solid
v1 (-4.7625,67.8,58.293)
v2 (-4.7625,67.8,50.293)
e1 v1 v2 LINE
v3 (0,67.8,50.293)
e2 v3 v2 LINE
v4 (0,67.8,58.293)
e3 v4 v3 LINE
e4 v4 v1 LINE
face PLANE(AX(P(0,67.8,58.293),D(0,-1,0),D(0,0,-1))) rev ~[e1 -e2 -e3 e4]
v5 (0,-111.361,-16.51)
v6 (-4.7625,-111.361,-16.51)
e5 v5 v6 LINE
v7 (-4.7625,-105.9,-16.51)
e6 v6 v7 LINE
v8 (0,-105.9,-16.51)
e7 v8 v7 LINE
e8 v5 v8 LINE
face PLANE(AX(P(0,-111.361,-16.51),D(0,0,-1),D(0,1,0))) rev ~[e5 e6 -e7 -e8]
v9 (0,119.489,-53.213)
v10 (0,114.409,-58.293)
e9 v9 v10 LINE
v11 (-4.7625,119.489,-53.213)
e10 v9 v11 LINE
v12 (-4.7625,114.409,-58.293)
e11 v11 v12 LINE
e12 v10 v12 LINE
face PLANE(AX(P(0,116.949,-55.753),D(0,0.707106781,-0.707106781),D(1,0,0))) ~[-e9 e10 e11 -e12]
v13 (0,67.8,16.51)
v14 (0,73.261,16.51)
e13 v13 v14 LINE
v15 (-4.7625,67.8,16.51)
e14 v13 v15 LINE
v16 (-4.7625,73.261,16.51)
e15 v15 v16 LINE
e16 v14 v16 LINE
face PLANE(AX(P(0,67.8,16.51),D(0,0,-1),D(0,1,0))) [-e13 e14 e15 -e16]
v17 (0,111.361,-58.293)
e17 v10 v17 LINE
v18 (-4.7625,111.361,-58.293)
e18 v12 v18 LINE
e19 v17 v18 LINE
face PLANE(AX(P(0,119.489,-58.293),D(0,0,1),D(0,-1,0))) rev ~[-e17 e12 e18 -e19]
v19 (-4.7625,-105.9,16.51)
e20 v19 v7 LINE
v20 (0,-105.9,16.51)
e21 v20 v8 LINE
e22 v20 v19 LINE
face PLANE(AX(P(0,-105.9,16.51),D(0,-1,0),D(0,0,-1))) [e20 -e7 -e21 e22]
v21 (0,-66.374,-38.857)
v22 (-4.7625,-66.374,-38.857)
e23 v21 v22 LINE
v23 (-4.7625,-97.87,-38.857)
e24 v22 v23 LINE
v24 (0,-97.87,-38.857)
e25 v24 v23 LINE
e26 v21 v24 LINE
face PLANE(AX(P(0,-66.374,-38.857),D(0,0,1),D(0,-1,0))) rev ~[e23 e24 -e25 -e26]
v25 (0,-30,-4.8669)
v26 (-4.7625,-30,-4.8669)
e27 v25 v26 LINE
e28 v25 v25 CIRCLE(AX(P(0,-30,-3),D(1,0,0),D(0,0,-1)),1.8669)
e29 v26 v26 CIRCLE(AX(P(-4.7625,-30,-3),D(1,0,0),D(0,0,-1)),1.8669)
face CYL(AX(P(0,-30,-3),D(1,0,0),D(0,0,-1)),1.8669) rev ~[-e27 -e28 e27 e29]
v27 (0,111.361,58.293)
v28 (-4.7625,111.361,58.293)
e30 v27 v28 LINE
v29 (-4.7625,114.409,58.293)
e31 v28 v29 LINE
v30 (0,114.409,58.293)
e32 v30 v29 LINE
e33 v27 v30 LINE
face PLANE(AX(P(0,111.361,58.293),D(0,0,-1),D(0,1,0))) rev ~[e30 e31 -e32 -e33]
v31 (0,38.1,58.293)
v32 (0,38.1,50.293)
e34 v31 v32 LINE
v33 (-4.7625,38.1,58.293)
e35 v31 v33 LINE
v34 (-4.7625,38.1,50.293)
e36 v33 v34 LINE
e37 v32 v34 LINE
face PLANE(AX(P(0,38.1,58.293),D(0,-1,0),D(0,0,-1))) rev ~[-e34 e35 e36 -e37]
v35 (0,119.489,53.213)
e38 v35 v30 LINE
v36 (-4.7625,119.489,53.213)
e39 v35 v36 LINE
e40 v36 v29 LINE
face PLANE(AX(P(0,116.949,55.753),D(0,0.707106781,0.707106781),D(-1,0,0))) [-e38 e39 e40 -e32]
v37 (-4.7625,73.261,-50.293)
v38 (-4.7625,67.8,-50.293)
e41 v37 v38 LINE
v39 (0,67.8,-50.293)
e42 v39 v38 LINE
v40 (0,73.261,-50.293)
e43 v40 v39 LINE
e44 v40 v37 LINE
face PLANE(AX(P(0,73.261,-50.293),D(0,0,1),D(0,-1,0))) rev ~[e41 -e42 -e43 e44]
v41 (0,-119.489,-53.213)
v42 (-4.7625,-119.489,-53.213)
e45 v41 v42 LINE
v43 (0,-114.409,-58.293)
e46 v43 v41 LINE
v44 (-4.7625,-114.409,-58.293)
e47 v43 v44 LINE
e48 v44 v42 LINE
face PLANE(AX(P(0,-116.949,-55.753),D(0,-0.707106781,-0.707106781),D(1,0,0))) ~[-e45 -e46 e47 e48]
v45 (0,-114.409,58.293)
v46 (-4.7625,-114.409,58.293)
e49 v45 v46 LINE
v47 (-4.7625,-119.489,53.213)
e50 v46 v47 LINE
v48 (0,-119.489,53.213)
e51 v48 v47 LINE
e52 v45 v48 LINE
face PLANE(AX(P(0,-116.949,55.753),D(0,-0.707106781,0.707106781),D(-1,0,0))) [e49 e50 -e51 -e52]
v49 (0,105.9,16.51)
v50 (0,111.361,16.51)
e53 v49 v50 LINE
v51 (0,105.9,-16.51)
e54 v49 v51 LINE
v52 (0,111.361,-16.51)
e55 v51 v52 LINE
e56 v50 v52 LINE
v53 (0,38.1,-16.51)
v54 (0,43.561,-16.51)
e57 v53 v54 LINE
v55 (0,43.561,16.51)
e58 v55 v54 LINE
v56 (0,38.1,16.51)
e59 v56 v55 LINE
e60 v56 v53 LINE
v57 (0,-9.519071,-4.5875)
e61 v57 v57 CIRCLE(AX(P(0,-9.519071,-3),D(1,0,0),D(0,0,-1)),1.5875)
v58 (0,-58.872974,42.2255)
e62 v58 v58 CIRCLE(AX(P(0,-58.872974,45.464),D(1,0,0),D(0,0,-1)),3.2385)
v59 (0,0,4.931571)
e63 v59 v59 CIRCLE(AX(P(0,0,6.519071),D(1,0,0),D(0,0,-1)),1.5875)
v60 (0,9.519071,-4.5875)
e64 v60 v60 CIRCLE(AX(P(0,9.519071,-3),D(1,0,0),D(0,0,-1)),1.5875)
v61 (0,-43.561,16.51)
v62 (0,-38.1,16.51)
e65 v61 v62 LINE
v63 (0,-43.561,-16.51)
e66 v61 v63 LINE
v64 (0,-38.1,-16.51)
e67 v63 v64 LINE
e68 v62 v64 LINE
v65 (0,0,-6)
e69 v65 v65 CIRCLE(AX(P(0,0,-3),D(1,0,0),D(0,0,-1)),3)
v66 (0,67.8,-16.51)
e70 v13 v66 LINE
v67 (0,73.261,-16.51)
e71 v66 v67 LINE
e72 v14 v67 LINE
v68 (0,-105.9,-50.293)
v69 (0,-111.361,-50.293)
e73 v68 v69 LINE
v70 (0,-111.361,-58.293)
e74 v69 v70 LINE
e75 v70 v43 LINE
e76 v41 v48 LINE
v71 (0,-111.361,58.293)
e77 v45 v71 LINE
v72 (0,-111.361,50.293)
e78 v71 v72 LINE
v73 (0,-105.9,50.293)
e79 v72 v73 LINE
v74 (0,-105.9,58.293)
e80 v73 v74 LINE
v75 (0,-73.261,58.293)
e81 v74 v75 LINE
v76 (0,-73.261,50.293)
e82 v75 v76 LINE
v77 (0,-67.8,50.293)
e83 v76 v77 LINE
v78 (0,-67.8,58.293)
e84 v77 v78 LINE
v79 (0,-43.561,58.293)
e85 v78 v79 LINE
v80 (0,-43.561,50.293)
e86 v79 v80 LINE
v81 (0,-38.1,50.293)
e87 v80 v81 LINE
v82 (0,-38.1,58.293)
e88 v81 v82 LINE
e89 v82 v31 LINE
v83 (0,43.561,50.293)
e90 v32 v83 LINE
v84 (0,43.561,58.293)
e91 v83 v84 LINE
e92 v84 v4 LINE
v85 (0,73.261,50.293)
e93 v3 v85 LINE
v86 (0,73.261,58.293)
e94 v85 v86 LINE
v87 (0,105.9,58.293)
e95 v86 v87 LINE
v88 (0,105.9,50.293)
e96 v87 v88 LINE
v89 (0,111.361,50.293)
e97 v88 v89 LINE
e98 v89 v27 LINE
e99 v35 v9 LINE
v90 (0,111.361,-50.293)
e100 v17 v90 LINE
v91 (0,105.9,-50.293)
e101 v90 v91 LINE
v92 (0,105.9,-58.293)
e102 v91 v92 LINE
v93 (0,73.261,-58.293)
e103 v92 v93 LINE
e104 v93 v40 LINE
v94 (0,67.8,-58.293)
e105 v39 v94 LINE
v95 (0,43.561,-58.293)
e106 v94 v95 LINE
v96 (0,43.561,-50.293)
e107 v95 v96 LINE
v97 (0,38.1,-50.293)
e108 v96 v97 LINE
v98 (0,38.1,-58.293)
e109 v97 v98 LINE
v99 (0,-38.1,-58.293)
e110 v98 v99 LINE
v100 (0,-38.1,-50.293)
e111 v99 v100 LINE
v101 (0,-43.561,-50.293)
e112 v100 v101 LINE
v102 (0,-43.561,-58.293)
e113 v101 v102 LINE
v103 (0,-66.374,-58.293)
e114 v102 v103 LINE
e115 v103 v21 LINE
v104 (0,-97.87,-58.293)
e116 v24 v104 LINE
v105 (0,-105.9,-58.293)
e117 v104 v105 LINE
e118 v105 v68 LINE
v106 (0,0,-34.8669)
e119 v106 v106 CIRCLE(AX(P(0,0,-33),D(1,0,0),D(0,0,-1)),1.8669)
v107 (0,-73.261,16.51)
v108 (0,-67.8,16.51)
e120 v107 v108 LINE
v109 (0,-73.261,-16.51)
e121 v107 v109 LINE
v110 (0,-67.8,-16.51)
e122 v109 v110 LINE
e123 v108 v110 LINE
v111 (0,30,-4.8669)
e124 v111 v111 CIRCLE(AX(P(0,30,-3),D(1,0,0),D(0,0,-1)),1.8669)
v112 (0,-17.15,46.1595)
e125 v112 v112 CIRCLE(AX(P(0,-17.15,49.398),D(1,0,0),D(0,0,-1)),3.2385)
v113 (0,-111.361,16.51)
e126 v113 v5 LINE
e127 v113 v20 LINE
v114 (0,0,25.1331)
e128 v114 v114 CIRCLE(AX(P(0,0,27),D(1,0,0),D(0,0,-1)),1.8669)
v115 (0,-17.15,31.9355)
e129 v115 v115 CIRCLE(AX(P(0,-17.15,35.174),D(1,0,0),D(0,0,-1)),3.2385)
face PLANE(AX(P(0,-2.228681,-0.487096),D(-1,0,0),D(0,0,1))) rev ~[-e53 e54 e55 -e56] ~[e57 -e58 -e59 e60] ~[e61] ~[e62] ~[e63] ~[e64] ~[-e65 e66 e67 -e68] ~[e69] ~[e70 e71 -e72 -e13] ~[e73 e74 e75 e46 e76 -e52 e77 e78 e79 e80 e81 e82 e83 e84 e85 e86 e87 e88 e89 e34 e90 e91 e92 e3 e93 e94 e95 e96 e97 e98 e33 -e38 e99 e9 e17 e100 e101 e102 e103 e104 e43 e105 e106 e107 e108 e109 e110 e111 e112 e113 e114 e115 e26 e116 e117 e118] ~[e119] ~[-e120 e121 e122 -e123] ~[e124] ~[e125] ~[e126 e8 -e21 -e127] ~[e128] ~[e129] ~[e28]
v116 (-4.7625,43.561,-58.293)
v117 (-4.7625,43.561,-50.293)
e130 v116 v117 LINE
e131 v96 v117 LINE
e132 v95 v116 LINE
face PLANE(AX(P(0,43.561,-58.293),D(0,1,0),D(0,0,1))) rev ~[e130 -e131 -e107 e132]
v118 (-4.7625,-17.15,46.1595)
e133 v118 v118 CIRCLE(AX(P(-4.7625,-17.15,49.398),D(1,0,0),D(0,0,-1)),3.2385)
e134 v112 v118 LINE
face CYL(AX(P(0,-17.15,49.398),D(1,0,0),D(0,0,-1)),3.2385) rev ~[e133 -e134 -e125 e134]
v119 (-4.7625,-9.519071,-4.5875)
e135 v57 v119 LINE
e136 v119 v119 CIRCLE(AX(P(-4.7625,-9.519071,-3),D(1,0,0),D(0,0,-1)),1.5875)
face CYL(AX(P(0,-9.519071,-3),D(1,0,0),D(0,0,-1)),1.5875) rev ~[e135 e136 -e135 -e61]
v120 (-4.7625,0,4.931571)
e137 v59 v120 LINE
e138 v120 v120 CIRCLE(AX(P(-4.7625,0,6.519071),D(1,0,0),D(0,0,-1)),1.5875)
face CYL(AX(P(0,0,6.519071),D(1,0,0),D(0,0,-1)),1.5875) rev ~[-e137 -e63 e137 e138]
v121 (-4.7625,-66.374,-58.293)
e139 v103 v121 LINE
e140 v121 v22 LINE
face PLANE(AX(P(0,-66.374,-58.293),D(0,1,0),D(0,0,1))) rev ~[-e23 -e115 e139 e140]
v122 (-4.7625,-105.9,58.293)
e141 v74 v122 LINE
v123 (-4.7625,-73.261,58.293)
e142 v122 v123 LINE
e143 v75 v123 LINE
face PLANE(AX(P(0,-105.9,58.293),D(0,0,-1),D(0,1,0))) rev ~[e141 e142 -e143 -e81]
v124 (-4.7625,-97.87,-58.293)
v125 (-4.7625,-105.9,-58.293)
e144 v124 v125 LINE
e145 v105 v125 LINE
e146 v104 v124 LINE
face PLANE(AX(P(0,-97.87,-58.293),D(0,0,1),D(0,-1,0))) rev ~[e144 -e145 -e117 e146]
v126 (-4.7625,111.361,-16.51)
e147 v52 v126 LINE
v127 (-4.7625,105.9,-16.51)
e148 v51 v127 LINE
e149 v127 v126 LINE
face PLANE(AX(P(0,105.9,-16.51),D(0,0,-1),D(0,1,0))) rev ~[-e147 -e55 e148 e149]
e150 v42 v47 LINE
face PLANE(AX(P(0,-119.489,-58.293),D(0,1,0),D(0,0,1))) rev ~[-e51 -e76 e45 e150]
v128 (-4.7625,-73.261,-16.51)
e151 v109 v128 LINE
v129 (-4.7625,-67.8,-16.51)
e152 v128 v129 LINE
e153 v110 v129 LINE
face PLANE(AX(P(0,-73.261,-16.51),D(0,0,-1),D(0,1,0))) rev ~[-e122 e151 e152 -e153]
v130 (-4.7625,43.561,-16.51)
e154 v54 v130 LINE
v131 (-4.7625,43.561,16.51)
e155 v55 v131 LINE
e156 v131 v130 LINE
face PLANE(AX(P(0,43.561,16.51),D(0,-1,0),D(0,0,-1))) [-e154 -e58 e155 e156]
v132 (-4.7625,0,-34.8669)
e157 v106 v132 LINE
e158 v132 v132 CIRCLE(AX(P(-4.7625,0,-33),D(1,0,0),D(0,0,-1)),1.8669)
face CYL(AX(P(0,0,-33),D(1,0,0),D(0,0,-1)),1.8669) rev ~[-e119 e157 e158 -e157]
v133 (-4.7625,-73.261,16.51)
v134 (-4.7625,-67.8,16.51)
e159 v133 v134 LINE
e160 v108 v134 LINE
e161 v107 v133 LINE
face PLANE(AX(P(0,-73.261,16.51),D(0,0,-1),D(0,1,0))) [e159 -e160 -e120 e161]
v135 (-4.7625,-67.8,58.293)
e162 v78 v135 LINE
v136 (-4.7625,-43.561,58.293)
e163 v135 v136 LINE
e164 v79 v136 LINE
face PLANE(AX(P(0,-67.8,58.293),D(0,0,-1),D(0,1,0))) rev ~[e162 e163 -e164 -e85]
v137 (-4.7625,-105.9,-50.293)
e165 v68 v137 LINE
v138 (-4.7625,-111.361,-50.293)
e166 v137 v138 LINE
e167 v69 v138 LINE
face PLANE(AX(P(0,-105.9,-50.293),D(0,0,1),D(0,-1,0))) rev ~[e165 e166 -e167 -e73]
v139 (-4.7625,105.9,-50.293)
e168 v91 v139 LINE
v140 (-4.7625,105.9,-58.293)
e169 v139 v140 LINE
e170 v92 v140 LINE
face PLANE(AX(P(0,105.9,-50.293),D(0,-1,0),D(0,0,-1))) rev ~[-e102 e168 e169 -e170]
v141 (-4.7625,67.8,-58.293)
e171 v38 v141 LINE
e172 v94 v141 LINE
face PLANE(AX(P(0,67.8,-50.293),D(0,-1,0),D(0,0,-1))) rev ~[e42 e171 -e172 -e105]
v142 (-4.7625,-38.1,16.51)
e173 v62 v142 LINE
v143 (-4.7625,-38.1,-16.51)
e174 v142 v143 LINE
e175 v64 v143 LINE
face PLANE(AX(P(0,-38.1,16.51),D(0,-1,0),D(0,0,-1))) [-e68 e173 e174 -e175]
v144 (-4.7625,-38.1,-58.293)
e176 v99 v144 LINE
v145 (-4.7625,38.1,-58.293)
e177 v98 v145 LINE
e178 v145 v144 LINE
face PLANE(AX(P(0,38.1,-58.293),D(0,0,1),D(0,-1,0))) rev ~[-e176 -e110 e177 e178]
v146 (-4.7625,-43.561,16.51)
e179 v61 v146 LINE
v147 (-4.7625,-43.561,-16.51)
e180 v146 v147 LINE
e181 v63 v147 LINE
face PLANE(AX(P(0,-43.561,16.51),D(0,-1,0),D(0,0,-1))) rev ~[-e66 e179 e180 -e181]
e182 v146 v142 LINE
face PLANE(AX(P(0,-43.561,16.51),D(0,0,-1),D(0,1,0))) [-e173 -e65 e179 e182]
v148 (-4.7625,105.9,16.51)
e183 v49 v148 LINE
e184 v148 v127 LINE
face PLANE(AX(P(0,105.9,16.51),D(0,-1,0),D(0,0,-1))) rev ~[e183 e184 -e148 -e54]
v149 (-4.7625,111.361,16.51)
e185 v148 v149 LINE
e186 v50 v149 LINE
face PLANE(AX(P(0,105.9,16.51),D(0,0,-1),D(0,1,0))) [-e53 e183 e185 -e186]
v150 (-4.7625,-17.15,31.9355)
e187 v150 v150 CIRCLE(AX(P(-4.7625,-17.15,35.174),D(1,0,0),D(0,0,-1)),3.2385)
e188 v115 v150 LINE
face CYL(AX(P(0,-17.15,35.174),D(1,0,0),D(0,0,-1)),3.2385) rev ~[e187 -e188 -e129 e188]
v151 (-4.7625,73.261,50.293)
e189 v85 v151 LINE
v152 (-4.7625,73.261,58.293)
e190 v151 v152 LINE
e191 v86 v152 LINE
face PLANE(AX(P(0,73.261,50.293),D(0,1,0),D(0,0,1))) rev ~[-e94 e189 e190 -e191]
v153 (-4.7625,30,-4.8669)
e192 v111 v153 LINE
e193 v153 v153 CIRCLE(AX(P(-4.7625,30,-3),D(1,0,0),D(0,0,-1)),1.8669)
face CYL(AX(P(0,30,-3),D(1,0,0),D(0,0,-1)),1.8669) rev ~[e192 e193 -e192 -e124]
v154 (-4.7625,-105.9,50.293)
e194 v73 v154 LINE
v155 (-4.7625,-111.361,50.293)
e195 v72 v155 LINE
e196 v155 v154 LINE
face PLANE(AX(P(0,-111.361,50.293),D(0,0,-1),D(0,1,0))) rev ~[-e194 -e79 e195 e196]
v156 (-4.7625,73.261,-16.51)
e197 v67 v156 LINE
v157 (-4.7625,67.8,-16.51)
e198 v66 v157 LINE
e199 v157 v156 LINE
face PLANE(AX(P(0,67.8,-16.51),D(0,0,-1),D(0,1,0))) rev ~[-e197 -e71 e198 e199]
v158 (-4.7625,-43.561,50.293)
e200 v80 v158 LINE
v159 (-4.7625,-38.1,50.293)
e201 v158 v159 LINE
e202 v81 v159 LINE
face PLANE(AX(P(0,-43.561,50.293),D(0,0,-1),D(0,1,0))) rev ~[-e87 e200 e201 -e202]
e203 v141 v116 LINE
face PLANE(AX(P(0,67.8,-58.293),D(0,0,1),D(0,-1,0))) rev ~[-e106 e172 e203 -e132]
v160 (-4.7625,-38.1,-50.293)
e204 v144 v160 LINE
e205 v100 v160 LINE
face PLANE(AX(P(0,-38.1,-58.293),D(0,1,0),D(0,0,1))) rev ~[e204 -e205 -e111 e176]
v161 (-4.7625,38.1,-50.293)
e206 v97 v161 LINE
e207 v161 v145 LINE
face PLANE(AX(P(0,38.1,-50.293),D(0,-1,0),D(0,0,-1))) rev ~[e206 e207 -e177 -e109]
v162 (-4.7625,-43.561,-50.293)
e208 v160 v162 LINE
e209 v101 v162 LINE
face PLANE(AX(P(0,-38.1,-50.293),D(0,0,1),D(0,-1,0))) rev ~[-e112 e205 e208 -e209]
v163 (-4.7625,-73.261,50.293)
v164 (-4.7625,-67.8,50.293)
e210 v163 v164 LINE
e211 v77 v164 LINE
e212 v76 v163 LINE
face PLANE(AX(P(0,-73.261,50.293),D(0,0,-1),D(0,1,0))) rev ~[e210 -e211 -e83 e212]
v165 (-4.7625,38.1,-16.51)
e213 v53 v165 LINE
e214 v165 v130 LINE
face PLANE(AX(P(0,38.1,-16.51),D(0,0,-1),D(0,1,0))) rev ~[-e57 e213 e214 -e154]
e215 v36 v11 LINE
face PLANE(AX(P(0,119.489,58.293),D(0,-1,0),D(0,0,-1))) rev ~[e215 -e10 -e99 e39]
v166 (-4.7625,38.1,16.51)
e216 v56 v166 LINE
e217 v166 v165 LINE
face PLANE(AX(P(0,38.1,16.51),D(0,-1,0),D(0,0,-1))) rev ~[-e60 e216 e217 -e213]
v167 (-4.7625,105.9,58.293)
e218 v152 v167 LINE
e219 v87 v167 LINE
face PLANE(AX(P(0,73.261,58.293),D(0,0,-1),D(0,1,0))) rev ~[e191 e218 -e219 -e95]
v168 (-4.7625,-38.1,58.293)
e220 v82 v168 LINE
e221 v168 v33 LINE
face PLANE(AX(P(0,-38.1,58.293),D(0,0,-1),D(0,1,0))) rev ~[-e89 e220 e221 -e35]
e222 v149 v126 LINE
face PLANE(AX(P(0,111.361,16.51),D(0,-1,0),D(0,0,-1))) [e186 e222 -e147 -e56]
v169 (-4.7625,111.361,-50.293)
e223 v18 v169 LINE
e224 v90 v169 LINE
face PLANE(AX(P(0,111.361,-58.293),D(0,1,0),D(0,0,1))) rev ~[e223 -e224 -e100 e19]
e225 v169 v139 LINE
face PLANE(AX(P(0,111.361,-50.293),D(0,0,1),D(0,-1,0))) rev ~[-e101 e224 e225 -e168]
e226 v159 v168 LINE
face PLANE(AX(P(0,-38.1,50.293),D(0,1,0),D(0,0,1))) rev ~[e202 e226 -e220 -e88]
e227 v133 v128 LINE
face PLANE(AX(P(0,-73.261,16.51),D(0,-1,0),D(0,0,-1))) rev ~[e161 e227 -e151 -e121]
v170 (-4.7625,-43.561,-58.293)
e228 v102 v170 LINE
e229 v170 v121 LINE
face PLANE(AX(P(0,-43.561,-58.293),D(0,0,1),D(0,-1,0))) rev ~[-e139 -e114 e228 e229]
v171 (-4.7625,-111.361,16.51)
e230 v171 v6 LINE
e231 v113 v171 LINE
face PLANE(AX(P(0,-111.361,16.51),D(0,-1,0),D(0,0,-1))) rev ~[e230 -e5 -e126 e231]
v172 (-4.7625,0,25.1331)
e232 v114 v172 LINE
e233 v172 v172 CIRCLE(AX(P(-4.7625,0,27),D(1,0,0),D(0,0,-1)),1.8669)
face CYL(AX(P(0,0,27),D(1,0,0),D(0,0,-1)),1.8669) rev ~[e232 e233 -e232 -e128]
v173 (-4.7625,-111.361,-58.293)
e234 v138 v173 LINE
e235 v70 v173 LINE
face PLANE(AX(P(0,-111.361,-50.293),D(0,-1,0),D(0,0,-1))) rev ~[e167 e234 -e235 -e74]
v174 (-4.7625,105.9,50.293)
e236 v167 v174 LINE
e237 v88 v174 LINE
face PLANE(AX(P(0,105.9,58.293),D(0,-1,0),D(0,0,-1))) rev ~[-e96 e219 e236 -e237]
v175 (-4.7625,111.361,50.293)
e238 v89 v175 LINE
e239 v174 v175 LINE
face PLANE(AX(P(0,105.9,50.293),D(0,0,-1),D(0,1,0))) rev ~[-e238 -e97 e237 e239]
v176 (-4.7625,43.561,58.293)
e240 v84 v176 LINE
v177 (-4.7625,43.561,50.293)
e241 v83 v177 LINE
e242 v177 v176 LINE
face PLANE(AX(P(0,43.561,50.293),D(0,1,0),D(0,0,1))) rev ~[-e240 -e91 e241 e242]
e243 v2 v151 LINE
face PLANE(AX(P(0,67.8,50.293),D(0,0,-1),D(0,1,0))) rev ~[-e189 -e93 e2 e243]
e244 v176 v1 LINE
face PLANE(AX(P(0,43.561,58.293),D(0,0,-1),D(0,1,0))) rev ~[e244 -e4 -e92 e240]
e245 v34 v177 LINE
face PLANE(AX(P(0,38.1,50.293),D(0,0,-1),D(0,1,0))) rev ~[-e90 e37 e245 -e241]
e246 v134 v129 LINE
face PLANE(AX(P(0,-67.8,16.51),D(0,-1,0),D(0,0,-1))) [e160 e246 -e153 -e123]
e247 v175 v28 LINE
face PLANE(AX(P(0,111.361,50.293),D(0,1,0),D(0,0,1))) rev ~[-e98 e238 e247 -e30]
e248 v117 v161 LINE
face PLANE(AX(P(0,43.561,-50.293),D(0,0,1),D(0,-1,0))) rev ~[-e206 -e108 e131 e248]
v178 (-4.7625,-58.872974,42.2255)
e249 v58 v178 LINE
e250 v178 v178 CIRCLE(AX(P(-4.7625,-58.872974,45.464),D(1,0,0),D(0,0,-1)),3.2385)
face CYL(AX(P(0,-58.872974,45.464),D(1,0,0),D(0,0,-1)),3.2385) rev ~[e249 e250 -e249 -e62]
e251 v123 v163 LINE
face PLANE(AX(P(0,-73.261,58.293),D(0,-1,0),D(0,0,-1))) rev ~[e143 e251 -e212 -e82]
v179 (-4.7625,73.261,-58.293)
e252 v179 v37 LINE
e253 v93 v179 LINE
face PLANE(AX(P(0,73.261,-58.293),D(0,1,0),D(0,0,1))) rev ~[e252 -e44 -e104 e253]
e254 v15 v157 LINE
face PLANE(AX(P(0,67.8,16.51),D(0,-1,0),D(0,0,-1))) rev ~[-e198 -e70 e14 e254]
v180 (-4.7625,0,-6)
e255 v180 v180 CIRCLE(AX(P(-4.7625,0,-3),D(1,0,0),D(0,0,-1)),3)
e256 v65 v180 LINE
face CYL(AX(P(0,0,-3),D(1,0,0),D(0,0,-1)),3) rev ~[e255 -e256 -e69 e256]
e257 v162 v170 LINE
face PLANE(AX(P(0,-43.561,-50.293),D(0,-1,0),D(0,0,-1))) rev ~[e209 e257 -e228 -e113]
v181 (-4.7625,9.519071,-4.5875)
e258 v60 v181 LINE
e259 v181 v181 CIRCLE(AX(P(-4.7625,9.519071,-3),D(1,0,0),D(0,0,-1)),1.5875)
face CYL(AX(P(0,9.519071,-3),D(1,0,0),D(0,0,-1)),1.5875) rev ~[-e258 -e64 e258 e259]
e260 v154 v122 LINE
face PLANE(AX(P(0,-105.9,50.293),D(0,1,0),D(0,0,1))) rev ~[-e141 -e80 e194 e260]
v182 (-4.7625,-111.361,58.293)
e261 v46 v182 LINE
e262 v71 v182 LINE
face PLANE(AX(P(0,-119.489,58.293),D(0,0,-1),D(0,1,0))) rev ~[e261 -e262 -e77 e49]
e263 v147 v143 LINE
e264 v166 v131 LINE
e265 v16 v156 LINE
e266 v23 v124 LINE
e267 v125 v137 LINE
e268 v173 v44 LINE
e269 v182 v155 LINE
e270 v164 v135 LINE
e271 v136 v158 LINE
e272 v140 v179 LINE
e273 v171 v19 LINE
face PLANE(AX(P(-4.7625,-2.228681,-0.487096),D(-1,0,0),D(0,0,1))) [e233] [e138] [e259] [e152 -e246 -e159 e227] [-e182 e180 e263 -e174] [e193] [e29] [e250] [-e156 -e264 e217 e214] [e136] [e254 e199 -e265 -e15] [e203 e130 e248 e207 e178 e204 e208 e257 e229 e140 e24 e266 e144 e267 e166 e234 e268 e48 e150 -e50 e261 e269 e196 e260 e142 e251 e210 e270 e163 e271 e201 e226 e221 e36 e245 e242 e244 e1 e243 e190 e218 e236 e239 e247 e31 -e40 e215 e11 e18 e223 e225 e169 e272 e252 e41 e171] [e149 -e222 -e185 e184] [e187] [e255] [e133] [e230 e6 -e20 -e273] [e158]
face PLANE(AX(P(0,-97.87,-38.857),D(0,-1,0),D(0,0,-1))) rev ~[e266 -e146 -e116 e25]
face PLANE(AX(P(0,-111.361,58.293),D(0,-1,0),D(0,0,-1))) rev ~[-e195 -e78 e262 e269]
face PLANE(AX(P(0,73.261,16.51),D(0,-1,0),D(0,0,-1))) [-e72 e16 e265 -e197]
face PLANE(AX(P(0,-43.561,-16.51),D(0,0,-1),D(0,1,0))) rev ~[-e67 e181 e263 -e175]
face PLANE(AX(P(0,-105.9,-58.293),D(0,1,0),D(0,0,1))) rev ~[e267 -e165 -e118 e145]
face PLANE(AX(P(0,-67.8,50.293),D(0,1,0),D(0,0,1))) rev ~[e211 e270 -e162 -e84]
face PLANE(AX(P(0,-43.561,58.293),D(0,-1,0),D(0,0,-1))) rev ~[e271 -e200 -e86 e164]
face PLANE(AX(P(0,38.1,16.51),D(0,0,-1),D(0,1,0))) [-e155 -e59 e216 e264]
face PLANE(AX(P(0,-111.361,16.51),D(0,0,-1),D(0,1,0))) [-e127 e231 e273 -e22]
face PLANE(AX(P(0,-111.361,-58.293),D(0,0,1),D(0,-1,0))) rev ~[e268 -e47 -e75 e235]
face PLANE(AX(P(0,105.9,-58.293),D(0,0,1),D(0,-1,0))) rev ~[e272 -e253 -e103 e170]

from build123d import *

# Parameters (mm, degrees)
SKETCH1_R           = 1.5875
SKETCH1_R_2         = 3
SKETCH1_R_3         = 3.2385
SKETCH1_R_4         = 1.8669
SKETCH1_W           = 33.02
SKETCH1_H           = 5.461
BOSS_EXTRUDE1_DEPTH = 4.7625
CHAMFER1_SIZE       = 5.08


with BuildPart() as part:
    # Sketch1 → Boss-Extrude1 (new body)
    with BuildSketch(Plane(origin=(0, 0, 0), x_dir=(0, 0, -1), z_dir=(1, 0, 0))):
        Polygon((-58.293, 119.489), (58.293, 119.489), (58.293, 111.361), (50.293, 111.361), (50.293, 105.9), (58.293, 105.9), (58.293, 73.261), (50.293, 73.261), (50.293, 67.8), (58.293, 67.8), (58.293, 43.561), (50.293, 43.561), (50.293, 38.1), (58.293, 38.1), (58.293, -38.1), (50.293, -38.1), (50.293, -43.561), (58.293, -43.561), (58.293, -66.374), (38.857, -66.374), (38.857, -97.87), (58.293, -97.87), (58.293, -105.9), (50.293, -105.9), (50.293, -111.361), (58.293, -111.361), (58.293, -119.489), (-58.293, -119.489), (-58.293, -111.361), (-50.293, -111.361), (-50.293, -105.9), (-58.293, -105.9), (-58.293, -73.261), (-50.293, -73.261), (-50.293, -67.8), (-58.293, -67.8), (-58.293, -43.561), (-50.293, -43.561), (-50.293, -38.1), (-58.293, -38.1), (-58.293, 38.1), (-50.293, 38.1), (-50.293, 43.561), (-58.293, 43.561), (-58.293, 67.8), (-50.293, 67.8), (-50.293, 73.261), (-58.293, 73.261), (-58.293, 105.9), (-50.293, 105.9), (-50.293, 111.361), (-58.293, 111.361), align=None)
        with Locations((3, 9.519071488)):
            Circle(SKETCH1_R, mode=Mode.SUBTRACT)
        with Locations((-6.519071488, 0)):
            Circle(SKETCH1_R, mode=Mode.SUBTRACT)
        with Locations((3, -9.519071488)):
            Circle(SKETCH1_R, mode=Mode.SUBTRACT)
        with Locations((3, 0)):
            Circle(SKETCH1_R_2, mode=Mode.SUBTRACT)
        with Locations((-35.174, -17.15)):
            Circle(SKETCH1_R_3, mode=Mode.SUBTRACT)
        with Locations((-49.398, -17.15)):
            Circle(SKETCH1_R_3, mode=Mode.SUBTRACT)
        with Locations((-45.464, -58.872973782)):
            Circle(SKETCH1_R_3, mode=Mode.SUBTRACT)
        with Locations((33, 0)):
            Circle(SKETCH1_R_4, mode=Mode.SUBTRACT)
        with Locations((3, 30)):
            Circle(SKETCH1_R_4, mode=Mode.SUBTRACT)
        with Locations((-27, 0)):
            Circle(SKETCH1_R_4, mode=Mode.SUBTRACT)
        with Locations((3, -30)):
            Circle(SKETCH1_R_4, mode=Mode.SUBTRACT)
        with Locations((0, 108.6305)):
            Rectangle(SKETCH1_W, SKETCH1_H, mode=Mode.SUBTRACT)
        with Locations((0, 70.5305)):
            Rectangle(SKETCH1_W, SKETCH1_H, mode=Mode.SUBTRACT)
        with Locations((0, 40.8305)):
            Rectangle(SKETCH1_W, SKETCH1_H, mode=Mode.SUBTRACT)
        with Locations((0, -40.8305)):
            Rectangle(SKETCH1_W, SKETCH1_H, mode=Mode.SUBTRACT)
        with Locations((0, -70.5305)):
            Rectangle(SKETCH1_W, SKETCH1_H, mode=Mode.SUBTRACT)
        with Locations((0, -108.6305)):
            Rectangle(SKETCH1_W, SKETCH1_H, mode=Mode.SUBTRACT)
    extrude(amount=-BOSS_EXTRUDE1_DEPTH)

    # Chamfer1
    chamfer1_edges = [part.edges().sort_by_distance(p)[0] for p in [
        (-2.38125, 119.489, 58.293),
        (-2.38125, 119.489, -58.293),
        (-2.38125, -119.489, -58.293),
        (-2.38125, -119.489, 58.293),
    ]]
    chamfer(chamfer1_edges, length=CHAMFER1_SIZE)


solid = part.part
